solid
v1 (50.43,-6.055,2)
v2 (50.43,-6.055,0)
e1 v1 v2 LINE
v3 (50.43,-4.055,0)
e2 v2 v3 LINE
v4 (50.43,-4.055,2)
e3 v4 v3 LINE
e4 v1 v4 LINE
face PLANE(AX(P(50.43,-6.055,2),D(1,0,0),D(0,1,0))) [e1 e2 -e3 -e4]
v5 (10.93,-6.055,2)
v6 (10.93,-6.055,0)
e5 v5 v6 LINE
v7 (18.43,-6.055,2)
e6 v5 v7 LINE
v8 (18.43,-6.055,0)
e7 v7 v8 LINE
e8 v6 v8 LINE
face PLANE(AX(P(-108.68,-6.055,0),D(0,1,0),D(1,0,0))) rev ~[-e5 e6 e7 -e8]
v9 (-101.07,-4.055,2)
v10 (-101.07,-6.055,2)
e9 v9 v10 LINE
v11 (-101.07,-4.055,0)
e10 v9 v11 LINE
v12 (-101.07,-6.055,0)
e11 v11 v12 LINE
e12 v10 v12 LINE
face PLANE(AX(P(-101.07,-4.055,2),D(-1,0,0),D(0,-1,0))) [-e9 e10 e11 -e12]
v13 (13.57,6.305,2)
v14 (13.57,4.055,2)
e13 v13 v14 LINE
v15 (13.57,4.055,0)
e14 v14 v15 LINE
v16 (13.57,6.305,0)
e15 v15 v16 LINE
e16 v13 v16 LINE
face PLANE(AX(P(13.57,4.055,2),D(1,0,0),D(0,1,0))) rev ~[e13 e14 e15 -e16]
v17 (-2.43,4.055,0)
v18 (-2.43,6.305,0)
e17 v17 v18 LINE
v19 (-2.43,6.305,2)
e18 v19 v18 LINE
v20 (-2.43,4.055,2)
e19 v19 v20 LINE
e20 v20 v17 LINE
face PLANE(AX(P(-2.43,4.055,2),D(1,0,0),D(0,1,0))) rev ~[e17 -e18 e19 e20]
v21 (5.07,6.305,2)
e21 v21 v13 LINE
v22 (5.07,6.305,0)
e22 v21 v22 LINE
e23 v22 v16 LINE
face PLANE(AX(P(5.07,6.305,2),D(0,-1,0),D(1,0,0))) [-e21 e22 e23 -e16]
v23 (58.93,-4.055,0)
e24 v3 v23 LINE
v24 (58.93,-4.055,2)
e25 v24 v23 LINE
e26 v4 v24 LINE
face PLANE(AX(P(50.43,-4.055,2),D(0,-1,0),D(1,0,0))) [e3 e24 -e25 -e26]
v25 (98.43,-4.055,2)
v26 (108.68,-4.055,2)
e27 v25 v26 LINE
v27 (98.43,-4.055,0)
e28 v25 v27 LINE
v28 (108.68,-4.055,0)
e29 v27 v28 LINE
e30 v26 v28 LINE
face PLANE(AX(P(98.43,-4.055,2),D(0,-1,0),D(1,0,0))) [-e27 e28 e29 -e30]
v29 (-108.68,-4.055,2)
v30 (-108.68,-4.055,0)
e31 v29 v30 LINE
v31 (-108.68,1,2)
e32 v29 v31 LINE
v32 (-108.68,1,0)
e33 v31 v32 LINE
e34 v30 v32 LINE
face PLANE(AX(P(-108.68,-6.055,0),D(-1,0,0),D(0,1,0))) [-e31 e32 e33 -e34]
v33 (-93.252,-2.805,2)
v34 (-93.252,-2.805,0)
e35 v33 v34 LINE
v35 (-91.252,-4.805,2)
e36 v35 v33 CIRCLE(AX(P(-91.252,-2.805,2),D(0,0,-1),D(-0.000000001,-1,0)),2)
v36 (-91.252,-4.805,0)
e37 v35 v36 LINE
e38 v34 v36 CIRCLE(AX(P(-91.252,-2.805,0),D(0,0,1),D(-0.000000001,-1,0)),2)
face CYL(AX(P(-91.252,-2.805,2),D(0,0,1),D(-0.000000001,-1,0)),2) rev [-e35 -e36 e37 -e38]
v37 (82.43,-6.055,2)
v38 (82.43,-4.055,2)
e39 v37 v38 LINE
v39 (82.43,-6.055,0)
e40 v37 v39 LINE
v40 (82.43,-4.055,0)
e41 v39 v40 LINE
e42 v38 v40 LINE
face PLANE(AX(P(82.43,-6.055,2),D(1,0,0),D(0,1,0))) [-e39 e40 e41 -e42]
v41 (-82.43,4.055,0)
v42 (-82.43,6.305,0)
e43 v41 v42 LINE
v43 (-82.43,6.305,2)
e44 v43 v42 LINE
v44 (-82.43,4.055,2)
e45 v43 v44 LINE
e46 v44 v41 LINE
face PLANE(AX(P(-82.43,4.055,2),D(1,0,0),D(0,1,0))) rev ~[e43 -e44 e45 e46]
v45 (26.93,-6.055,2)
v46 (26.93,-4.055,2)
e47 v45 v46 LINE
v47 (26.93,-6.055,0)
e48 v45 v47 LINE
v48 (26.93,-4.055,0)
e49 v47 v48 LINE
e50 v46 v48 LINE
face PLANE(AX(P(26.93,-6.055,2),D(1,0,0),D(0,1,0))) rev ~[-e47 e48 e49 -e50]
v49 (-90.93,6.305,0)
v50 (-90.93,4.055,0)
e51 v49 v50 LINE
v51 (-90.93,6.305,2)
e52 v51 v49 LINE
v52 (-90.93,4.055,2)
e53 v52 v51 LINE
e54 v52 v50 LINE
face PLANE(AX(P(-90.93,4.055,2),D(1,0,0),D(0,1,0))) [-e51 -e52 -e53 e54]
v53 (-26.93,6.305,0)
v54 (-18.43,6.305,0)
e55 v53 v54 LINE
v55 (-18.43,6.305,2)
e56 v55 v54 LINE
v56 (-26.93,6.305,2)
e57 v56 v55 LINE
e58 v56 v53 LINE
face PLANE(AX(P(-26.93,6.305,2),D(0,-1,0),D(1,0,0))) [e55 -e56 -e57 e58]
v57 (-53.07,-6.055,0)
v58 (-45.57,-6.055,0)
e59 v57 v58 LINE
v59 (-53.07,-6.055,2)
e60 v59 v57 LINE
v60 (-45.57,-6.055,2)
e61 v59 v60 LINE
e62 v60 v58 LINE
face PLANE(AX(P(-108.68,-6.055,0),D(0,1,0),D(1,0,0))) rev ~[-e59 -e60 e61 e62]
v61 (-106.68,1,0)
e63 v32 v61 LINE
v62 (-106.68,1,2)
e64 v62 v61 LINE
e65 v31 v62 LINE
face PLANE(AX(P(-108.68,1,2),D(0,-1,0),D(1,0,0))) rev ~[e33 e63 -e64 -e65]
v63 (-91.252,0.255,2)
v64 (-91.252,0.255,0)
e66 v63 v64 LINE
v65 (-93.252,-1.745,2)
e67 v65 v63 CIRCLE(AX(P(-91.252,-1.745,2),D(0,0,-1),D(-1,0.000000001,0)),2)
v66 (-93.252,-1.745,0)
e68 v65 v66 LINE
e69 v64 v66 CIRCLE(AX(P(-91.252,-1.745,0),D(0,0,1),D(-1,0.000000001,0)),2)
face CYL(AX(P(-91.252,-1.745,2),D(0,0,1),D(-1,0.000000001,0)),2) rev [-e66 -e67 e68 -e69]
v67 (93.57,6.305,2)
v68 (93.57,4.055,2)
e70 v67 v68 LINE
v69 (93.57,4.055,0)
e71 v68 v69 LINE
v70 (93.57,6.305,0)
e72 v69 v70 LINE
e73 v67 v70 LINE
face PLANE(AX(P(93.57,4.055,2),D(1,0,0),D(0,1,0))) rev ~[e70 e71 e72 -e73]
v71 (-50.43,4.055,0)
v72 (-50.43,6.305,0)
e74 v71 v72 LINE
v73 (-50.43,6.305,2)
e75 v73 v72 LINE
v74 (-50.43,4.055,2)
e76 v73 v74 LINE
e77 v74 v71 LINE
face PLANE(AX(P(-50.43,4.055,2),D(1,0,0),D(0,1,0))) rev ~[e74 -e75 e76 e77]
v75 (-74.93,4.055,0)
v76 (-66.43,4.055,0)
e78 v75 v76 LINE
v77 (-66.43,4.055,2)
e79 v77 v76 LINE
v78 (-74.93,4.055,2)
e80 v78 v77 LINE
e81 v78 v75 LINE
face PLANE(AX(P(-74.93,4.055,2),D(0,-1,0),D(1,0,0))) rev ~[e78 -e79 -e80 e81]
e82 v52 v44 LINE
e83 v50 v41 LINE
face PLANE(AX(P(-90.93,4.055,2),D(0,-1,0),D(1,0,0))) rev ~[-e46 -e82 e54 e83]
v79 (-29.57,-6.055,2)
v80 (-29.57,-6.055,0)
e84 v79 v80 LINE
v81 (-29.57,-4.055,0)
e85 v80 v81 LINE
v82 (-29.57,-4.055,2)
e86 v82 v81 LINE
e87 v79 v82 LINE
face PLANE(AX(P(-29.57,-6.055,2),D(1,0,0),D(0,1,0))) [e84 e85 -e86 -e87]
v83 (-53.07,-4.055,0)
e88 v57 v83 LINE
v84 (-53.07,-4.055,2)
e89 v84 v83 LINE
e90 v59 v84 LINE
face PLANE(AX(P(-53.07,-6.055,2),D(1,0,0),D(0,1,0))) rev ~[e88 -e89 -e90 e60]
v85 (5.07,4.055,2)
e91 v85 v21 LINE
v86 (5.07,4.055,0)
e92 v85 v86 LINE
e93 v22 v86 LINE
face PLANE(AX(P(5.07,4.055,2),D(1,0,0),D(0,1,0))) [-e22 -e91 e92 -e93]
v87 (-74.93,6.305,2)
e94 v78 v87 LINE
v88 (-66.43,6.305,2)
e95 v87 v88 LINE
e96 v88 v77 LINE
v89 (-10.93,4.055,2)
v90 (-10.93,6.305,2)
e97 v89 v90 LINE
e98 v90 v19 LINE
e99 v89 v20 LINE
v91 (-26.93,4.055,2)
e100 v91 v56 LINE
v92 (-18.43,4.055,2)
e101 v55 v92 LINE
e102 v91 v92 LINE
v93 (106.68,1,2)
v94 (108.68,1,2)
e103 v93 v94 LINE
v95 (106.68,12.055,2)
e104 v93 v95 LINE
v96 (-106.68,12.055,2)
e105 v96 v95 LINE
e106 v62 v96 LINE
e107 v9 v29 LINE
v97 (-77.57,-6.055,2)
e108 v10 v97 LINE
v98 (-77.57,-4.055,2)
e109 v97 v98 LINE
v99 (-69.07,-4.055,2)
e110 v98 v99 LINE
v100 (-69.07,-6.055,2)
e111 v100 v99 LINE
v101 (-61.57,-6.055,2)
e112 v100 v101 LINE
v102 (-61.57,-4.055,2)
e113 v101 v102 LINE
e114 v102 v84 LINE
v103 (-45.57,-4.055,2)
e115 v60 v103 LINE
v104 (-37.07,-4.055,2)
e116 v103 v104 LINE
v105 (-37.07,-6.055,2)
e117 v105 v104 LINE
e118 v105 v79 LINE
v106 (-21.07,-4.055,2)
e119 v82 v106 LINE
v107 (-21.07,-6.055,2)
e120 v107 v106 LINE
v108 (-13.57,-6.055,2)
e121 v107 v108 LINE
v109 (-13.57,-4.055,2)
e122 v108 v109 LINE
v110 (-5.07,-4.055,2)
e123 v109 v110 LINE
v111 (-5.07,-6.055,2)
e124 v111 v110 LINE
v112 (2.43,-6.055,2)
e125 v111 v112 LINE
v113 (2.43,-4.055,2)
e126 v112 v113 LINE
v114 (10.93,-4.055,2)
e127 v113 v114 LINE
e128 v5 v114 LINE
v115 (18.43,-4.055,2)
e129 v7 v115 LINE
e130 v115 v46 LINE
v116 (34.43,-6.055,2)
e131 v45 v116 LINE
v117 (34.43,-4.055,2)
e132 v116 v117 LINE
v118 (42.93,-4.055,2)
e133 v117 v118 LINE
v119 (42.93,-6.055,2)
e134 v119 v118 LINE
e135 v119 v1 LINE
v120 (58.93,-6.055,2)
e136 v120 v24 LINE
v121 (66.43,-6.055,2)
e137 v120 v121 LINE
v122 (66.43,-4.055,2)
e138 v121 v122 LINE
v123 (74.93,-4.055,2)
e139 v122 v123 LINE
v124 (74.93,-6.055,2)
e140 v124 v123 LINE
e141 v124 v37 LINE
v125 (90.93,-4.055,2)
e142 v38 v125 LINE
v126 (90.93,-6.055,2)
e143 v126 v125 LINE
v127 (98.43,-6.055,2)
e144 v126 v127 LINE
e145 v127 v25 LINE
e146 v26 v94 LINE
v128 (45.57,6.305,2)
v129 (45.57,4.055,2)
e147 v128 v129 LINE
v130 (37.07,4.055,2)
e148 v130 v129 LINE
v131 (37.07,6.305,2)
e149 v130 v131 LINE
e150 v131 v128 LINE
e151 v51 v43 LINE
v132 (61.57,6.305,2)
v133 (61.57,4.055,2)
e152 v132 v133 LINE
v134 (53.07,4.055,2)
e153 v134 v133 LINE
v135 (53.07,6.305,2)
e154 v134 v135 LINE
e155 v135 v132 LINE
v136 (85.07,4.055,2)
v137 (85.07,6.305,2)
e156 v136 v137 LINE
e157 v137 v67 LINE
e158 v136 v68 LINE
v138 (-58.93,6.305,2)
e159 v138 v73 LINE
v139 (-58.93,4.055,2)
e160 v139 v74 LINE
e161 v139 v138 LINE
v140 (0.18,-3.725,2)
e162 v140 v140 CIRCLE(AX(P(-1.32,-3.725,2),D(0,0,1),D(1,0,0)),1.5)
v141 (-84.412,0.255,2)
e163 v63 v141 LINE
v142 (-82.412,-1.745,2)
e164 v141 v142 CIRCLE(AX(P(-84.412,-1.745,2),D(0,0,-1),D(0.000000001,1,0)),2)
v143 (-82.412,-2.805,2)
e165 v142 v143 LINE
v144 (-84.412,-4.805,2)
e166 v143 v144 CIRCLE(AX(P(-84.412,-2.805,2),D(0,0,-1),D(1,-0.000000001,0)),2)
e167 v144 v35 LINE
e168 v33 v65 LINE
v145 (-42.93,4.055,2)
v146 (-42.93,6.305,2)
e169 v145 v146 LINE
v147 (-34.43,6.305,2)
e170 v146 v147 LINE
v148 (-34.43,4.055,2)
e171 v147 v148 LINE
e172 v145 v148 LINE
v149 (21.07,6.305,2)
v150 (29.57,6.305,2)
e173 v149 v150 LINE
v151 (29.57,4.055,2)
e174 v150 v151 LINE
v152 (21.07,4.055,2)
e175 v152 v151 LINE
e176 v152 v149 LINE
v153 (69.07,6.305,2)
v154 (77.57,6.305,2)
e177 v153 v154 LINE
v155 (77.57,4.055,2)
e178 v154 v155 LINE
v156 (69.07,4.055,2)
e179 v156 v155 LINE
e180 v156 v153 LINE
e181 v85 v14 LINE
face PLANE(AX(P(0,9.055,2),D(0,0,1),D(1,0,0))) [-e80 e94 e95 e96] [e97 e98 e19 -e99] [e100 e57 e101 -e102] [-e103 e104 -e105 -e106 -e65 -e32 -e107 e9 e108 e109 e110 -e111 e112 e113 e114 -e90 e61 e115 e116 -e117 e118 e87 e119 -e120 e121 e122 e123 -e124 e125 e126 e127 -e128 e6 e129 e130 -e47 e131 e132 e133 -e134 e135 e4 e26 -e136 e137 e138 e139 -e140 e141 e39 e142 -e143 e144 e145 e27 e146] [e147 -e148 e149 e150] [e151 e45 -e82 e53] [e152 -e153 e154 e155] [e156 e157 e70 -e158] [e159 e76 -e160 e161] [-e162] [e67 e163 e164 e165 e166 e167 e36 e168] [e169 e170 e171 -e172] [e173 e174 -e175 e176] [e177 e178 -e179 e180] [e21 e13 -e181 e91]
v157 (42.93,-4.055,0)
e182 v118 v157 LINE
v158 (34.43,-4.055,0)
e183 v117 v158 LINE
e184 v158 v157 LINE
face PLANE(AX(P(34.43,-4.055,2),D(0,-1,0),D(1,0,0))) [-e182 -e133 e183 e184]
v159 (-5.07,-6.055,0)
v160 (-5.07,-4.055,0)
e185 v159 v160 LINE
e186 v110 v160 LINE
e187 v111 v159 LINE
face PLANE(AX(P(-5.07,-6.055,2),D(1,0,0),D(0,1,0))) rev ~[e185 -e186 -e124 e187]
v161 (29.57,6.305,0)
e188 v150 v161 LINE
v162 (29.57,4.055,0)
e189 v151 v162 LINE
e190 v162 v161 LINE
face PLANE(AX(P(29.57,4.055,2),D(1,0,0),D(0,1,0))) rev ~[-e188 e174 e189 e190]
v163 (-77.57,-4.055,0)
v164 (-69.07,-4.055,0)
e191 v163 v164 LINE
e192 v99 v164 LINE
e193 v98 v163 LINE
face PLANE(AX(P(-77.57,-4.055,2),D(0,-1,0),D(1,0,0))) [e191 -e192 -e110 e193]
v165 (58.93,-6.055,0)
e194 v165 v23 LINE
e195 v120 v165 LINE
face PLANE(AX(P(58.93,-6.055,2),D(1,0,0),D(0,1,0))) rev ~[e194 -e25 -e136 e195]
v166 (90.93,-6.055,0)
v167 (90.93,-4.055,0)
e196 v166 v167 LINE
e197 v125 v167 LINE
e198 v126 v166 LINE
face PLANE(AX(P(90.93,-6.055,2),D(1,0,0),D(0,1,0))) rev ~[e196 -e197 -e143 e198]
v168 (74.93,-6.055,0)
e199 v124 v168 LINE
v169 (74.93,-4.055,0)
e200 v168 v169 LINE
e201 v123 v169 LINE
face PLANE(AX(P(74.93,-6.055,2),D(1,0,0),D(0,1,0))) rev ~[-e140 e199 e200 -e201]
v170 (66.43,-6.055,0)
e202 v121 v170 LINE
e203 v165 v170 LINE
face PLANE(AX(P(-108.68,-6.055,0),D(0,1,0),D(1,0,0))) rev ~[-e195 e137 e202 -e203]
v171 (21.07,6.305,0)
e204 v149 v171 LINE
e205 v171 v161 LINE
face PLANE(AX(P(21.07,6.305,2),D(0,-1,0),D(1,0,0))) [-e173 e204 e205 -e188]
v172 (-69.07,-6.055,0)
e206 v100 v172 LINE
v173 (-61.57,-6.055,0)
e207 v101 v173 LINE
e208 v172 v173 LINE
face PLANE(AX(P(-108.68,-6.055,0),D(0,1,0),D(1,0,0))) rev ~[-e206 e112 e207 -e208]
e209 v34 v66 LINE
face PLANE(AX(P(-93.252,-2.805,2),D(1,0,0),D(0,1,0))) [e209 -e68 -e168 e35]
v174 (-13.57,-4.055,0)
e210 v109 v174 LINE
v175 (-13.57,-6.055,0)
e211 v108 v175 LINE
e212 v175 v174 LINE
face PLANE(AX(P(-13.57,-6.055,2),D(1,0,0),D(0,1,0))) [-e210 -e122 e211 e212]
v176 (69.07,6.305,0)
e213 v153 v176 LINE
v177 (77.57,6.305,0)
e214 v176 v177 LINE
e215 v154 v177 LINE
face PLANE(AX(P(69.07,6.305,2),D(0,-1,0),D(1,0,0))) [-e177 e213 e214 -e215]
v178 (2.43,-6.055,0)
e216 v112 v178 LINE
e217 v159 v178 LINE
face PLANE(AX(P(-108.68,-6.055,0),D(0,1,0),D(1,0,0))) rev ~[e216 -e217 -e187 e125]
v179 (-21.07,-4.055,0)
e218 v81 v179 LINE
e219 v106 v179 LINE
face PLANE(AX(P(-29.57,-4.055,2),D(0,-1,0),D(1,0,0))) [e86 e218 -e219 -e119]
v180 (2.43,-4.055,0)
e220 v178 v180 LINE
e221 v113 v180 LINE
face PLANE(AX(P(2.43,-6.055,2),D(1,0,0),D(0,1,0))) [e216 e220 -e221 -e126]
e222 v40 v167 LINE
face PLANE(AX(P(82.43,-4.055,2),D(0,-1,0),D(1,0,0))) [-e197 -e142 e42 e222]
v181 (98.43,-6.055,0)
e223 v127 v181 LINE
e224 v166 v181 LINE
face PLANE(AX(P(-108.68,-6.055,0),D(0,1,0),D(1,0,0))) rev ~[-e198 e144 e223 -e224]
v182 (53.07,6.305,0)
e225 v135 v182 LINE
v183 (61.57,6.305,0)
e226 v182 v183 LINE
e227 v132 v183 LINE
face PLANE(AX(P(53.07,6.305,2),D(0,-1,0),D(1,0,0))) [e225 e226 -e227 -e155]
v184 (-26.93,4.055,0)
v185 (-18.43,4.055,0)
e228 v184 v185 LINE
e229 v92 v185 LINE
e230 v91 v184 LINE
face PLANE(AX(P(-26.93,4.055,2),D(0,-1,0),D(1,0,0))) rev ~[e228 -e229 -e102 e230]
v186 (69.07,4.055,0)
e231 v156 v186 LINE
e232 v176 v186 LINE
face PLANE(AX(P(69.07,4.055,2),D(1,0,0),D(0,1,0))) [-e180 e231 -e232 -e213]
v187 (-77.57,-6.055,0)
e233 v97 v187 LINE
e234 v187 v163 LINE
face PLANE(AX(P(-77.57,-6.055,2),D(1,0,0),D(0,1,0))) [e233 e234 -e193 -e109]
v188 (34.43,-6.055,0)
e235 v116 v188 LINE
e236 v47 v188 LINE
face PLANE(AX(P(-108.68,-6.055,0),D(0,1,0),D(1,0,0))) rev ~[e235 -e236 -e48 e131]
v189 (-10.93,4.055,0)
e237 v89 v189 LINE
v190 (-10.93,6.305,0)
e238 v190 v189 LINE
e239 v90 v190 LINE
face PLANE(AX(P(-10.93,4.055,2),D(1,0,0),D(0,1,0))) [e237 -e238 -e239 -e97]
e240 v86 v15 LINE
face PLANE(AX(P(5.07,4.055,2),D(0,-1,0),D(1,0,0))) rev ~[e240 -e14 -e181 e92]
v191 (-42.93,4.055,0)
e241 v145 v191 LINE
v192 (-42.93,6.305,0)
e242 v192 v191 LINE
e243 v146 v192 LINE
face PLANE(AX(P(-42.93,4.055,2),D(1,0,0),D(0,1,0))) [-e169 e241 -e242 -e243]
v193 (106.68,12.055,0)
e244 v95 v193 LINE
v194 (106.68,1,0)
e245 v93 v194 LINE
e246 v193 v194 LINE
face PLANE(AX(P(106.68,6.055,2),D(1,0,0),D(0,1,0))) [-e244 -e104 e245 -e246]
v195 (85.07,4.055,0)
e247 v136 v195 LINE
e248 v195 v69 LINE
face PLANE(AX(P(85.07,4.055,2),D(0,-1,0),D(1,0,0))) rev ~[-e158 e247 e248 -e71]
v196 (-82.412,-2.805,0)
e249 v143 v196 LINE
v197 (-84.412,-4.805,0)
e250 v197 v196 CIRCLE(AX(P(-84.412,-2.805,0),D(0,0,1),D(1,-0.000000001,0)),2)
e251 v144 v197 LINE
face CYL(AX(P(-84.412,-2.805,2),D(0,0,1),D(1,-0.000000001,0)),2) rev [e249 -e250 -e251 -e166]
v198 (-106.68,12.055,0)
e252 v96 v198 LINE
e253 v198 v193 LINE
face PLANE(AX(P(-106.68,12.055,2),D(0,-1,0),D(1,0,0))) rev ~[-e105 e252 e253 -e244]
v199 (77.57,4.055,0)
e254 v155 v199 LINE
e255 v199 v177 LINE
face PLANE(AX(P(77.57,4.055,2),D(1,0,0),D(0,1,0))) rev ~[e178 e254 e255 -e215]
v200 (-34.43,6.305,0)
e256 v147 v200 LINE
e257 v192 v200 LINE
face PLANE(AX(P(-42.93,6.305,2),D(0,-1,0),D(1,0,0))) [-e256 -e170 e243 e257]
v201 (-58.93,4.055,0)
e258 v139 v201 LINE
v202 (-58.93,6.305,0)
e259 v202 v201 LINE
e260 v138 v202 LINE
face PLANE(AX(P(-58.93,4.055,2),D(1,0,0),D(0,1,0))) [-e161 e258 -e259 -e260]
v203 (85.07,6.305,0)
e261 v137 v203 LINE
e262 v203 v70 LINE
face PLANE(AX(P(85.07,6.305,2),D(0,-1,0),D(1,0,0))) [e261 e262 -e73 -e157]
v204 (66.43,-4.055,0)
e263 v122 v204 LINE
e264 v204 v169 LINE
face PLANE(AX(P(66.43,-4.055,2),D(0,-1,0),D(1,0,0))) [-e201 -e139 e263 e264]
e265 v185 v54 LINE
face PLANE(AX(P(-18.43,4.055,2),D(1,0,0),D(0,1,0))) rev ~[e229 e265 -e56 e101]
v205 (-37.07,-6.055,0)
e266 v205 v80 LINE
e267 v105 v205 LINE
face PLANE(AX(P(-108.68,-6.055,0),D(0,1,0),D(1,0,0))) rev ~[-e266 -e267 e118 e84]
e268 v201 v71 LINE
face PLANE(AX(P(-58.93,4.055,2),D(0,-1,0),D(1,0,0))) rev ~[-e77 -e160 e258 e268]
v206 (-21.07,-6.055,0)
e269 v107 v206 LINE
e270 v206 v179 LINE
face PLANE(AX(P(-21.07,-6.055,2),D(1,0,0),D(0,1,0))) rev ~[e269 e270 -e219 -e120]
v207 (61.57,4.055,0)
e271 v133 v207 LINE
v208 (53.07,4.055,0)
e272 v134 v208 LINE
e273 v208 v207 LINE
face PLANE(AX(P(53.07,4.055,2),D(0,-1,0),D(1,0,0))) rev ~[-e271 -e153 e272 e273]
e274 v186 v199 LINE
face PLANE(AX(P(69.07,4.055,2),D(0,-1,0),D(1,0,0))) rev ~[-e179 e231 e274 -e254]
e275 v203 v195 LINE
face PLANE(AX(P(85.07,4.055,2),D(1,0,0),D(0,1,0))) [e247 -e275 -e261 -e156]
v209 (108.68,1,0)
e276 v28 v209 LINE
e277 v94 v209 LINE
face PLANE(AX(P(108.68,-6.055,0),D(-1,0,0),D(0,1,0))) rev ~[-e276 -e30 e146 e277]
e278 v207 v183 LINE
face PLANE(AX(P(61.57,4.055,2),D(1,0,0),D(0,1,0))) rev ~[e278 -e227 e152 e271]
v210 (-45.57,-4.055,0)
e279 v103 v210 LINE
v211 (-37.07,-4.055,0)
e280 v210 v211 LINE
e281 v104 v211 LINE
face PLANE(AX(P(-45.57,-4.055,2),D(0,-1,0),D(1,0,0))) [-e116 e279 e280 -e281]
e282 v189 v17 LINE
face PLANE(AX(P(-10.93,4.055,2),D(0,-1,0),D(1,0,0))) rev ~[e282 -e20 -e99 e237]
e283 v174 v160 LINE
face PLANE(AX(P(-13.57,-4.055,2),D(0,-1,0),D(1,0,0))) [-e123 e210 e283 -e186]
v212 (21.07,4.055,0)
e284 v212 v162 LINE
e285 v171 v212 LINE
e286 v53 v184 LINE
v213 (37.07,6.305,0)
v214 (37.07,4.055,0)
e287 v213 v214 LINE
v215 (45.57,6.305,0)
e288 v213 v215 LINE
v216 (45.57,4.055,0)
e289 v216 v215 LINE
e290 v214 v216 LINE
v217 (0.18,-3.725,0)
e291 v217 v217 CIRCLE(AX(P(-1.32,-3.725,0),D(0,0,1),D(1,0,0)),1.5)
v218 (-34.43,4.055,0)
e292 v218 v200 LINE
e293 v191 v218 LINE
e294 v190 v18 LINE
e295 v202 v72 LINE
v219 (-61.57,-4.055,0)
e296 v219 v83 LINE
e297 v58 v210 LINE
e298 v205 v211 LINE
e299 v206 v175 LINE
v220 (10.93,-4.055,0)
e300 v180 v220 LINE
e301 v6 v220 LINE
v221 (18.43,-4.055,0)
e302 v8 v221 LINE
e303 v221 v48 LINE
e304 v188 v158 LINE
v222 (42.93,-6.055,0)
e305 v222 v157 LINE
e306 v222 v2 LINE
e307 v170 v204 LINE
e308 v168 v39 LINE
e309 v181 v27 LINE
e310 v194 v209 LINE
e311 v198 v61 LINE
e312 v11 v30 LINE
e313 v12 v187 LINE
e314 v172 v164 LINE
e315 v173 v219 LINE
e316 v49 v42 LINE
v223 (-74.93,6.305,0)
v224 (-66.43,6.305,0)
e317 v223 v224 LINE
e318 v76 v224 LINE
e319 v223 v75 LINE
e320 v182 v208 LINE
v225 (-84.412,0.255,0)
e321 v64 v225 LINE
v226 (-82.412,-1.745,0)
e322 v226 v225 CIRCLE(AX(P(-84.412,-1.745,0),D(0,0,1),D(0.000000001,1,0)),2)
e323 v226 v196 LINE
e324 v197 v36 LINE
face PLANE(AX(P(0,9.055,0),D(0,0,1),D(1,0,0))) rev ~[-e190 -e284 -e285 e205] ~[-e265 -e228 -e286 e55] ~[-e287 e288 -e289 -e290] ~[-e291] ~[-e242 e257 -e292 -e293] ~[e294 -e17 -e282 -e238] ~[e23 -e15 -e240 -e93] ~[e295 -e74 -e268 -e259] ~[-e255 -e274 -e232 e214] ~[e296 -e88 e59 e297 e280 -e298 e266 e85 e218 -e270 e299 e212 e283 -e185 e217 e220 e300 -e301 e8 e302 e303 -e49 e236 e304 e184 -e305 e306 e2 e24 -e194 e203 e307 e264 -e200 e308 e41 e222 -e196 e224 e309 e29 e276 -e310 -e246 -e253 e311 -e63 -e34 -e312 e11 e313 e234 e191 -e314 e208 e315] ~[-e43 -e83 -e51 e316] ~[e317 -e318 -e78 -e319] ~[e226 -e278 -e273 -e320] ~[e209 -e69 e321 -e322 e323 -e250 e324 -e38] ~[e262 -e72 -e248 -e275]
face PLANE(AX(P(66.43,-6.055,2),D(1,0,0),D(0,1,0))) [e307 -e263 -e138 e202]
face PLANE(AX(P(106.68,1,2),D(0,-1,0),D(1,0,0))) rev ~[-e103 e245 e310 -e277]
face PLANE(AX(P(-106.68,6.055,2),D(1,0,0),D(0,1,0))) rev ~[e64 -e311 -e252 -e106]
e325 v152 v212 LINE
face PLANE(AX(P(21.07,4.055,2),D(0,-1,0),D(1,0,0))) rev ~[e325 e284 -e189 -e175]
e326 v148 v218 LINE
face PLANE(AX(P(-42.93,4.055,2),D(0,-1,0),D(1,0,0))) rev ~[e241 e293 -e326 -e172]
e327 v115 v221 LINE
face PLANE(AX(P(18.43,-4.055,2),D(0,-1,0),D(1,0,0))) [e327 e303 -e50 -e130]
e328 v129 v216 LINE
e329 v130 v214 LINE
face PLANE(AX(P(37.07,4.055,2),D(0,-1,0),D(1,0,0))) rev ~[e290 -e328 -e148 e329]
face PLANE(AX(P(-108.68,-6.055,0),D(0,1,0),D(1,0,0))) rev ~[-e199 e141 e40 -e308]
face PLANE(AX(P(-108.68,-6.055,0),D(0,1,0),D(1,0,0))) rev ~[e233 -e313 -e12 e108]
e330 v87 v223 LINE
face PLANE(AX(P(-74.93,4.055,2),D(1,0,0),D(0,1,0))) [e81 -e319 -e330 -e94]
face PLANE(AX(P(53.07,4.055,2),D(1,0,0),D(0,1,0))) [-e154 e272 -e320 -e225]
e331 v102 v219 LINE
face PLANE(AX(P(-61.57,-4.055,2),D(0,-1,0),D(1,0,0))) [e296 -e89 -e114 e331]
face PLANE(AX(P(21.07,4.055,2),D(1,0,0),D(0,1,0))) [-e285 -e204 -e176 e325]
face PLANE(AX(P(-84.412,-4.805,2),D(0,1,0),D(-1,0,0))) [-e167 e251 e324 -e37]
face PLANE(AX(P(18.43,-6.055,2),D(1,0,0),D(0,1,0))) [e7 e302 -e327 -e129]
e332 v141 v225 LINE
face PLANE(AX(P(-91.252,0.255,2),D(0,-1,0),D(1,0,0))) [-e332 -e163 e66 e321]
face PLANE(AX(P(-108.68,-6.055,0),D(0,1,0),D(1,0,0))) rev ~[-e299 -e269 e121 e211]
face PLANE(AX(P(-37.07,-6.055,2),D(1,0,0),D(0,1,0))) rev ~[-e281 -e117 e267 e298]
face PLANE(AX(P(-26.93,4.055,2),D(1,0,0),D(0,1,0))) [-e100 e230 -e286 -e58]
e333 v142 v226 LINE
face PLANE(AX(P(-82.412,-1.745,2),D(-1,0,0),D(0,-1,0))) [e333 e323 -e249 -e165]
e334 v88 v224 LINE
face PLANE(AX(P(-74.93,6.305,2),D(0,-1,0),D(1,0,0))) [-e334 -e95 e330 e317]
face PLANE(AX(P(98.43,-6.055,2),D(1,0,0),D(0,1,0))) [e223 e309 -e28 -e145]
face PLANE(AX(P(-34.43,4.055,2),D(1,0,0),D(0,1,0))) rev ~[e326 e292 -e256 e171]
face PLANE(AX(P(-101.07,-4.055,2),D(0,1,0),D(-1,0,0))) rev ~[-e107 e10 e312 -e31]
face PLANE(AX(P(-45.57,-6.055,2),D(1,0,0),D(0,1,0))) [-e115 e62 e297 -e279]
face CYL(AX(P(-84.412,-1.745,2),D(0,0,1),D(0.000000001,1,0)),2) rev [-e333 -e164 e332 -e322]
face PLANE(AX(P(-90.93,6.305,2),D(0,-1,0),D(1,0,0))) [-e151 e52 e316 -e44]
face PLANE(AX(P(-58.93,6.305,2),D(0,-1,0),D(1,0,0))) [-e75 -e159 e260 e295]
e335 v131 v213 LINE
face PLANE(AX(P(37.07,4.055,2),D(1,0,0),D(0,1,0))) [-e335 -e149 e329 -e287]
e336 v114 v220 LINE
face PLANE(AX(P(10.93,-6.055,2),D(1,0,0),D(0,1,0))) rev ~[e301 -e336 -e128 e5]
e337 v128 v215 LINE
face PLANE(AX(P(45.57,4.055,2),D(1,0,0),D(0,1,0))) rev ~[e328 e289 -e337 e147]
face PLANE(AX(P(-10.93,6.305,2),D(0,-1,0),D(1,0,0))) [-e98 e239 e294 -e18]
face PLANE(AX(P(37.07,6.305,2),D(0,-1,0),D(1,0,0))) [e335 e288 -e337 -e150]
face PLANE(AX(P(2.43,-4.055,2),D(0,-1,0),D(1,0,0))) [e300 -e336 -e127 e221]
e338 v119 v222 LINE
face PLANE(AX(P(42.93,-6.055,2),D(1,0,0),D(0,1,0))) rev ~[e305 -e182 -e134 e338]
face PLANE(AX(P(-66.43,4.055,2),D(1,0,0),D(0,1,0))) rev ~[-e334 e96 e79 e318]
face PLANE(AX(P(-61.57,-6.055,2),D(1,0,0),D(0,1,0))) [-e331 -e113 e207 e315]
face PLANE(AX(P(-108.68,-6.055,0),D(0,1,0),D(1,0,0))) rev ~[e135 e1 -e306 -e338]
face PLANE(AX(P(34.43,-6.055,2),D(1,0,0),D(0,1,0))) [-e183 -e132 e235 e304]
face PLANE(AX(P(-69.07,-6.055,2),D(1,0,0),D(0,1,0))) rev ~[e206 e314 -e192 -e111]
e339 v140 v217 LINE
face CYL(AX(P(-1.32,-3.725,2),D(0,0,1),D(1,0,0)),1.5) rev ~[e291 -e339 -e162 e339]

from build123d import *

# Parameters (mm, degrees)
ESQUISSE1_W             = 217.36
ESQUISSE1_H             = 12.11
BOSS_EXTRU_1_DEPTH      = 2
ESQUISSE2_W             = 8.5
ESQUISSE2_H             = 2
ESQUISSE2_W_2           = 10.25
ENL_V_MAT_EXTRU_1_DEPTH = 109.866916118
ENL_V_MAT_EXTRU_2_DEPTH = 109.866916118
ESQUISSE5_W             = 2
ESQUISSE5_H             = 5.055
ENL_V_MAT_EXTRU_3_DEPTH = 109.866916118
ESQUISSE6_W             = 213.36
ESQUISSE6_H             = 6
BOSS_EXTRU_2_DEPTH      = 2
ESQUISSE7_W             = 8.5
ESQUISSE7_H             = 0.25
ENL_V_MAT_EXTRU_4_DEPTH = 110.364827184
SKETCH1_R               = 1.5
CUT_EXTRUDE1_DEPTH      = 110.364827184


with BuildPart() as part:
    # Esquisse1 → Boss.-Extru.1 (new body)
    with BuildSketch(Plane.XY):
        Rectangle(ESQUISSE1_W, ESQUISSE1_H)
    extrude(amount=BOSS_EXTRU_1_DEPTH)

    # Esquisse2 → Enlèv. mat.-Extru.1 (cut, through all)
    with BuildSketch(Plane.XY.offset(2)):
        Polygon((-109.57, -4.055), (-108.68, -4.055), (-101.07, -4.055), (-101.07, -6.055), (-109.57, -6.055), align=None)
        with Locations((-86.68, 5.055)):
            Rectangle(ESQUISSE2_W, ESQUISSE2_H)
        with Locations((-73.32, -5.055)):
            Rectangle(ESQUISSE2_W, ESQUISSE2_H)
        with Locations((-57.32, -5.055)):
            Rectangle(ESQUISSE2_W, ESQUISSE2_H)
        with Locations((-41.32, -5.055)):
            Rectangle(ESQUISSE2_W, ESQUISSE2_H)
        with Locations((-25.32, -5.055)):
            Rectangle(ESQUISSE2_W, ESQUISSE2_H)
        with Locations((-9.32, -5.055)):
            Rectangle(ESQUISSE2_W, ESQUISSE2_H)
        with Locations((6.68, -5.055)):
            Rectangle(ESQUISSE2_W, ESQUISSE2_H)
        with Locations((22.68, -5.055)):
            Rectangle(ESQUISSE2_W, ESQUISSE2_H)
        with Locations((38.68, -5.055)):
            Rectangle(ESQUISSE2_W, ESQUISSE2_H)
        with Locations((54.68, -5.055)):
            Rectangle(ESQUISSE2_W, ESQUISSE2_H)
        with Locations((70.68, -5.055)):
            Rectangle(ESQUISSE2_W, ESQUISSE2_H)
        with Locations((86.68, -5.055)):
            Rectangle(ESQUISSE2_W, ESQUISSE2_H)
        with Locations((-70.68, 5.055)):
            Rectangle(ESQUISSE2_W, ESQUISSE2_H)
        with Locations((-54.68, 5.055)):
            Rectangle(ESQUISSE2_W, ESQUISSE2_H)
        with Locations((-38.68, 5.055)):
            Rectangle(ESQUISSE2_W, ESQUISSE2_H)
        with Locations((-22.68, 5.055)):
            Rectangle(ESQUISSE2_W, ESQUISSE2_H)
        with Locations((-6.68, 5.055)):
            Rectangle(ESQUISSE2_W, ESQUISSE2_H)
        with Locations((9.32, 5.055)):
            Rectangle(ESQUISSE2_W, ESQUISSE2_H)
        with Locations((25.32, 5.055)):
            Rectangle(ESQUISSE2_W, ESQUISSE2_H)
        with Locations((41.32, 5.055)):
            Rectangle(ESQUISSE2_W, ESQUISSE2_H)
        with Locations((57.32, 5.055)):
            Rectangle(ESQUISSE2_W, ESQUISSE2_H)
        with Locations((73.32, 5.055)):
            Rectangle(ESQUISSE2_W, ESQUISSE2_H)
        with Locations((89.32, 5.055)):
            Rectangle(ESQUISSE2_W, ESQUISSE2_H)
        with Locations((103.555, -5.055)):
            Rectangle(ESQUISSE2_W_2, ESQUISSE2_H)
    extrude(amount=-ENL_V_MAT_EXTRU_1_DEPTH, mode=Mode.SUBTRACT)

    # Esquisse3 → Enlèv. mat.-Extru.2 (cut, through all)
    with BuildSketch(Plane.XY.offset(2)):
        with BuildLine():
            Line((-91.252, 0.255), (-84.412, 0.255))
            ThreePointArc((-84.412, 0.255), (-82.997786438, -0.330786438), (-82.412, -1.745))
            Line((-82.412, -1.745), (-82.412, -2.805))
            ThreePointArc((-82.412, -2.805), (-82.997786438, -4.219213562), (-84.412, -4.805))
            Line((-84.412, -4.805), (-91.252, -4.805))
            ThreePointArc((-91.252, -4.805), (-92.666213562, -4.219213562), (-93.252, -2.805))
            Line((-93.252, -2.805), (-93.252, -1.745))
            ThreePointArc((-93.252, -1.745), (-92.666213562, -0.330786438), (-91.252, 0.255))
        make_face()
    extrude(amount=-ENL_V_MAT_EXTRU_2_DEPTH, mode=Mode.SUBTRACT)

    # Esquisse5 → Enlèv. mat.-Extru.3 (cut, through all)
    with BuildSketch(Plane.XY.offset(2)):
        with Locations((-107.68, 3.5275)):
            Rectangle(ESQUISSE5_W, ESQUISSE5_H)
        with Locations((107.68, 3.5275)):
            Rectangle(ESQUISSE5_W, ESQUISSE5_H)
    extrude(amount=-ENL_V_MAT_EXTRU_3_DEPTH, mode=Mode.SUBTRACT)

    # Esquisse6 → Boss.-Extru.2 (add)
    with BuildSketch(Plane.XY.offset(2)):
        with Locations((0, 9.055)):
            Rectangle(ESQUISSE6_W, ESQUISSE6_H)
    extrude(amount=-BOSS_EXTRU_2_DEPTH)

    # Esquisse7 → Enlèv. mat.-Extru.4 (cut, through all)
    with BuildSketch(Plane.XY.offset(2)):
        with Locations((-70.68, 6.18)):
            Rectangle(ESQUISSE7_W, ESQUISSE7_H)
        with Locations((-86.68, 6.18)):
            Rectangle(ESQUISSE7_W, ESQUISSE7_H)
        with Locations((-54.68, 6.18)):
            Rectangle(ESQUISSE7_W, ESQUISSE7_H)
        with Locations((-38.68, 6.18)):
            Rectangle(ESQUISSE7_W, ESQUISSE7_H)
        with Locations((-22.68, 6.18)):
            Rectangle(ESQUISSE7_W, ESQUISSE7_H)
        with Locations((-6.68, 6.18)):
            Rectangle(ESQUISSE7_W, ESQUISSE7_H)
        with Locations((9.32, 6.18)):
            Rectangle(ESQUISSE7_W, ESQUISSE7_H)
        with Locations((25.32, 6.18)):
            Rectangle(ESQUISSE7_W, ESQUISSE7_H)
        with Locations((41.32, 6.18)):
            Rectangle(ESQUISSE7_W, ESQUISSE7_H)
        with Locations((57.32, 6.18)):
            Rectangle(ESQUISSE7_W, ESQUISSE7_H)
        with Locations((73.32, 6.18)):
            Rectangle(ESQUISSE7_W, ESQUISSE7_H)
        with Locations((89.32, 6.18)):
            Rectangle(ESQUISSE7_W, ESQUISSE7_H)
    extrude(amount=-ENL_V_MAT_EXTRU_4_DEPTH, mode=Mode.SUBTRACT)

    # Sketch1 → Cut-Extrude1 (cut, through all)
    with BuildSketch(Plane.XY.offset(2)):
        with Locations((-1.32, -3.725)):
            Circle(SKETCH1_R)
    extrude(amount=-CUT_EXTRUDE1_DEPTH, mode=Mode.SUBTRACT)


solid = part.part
